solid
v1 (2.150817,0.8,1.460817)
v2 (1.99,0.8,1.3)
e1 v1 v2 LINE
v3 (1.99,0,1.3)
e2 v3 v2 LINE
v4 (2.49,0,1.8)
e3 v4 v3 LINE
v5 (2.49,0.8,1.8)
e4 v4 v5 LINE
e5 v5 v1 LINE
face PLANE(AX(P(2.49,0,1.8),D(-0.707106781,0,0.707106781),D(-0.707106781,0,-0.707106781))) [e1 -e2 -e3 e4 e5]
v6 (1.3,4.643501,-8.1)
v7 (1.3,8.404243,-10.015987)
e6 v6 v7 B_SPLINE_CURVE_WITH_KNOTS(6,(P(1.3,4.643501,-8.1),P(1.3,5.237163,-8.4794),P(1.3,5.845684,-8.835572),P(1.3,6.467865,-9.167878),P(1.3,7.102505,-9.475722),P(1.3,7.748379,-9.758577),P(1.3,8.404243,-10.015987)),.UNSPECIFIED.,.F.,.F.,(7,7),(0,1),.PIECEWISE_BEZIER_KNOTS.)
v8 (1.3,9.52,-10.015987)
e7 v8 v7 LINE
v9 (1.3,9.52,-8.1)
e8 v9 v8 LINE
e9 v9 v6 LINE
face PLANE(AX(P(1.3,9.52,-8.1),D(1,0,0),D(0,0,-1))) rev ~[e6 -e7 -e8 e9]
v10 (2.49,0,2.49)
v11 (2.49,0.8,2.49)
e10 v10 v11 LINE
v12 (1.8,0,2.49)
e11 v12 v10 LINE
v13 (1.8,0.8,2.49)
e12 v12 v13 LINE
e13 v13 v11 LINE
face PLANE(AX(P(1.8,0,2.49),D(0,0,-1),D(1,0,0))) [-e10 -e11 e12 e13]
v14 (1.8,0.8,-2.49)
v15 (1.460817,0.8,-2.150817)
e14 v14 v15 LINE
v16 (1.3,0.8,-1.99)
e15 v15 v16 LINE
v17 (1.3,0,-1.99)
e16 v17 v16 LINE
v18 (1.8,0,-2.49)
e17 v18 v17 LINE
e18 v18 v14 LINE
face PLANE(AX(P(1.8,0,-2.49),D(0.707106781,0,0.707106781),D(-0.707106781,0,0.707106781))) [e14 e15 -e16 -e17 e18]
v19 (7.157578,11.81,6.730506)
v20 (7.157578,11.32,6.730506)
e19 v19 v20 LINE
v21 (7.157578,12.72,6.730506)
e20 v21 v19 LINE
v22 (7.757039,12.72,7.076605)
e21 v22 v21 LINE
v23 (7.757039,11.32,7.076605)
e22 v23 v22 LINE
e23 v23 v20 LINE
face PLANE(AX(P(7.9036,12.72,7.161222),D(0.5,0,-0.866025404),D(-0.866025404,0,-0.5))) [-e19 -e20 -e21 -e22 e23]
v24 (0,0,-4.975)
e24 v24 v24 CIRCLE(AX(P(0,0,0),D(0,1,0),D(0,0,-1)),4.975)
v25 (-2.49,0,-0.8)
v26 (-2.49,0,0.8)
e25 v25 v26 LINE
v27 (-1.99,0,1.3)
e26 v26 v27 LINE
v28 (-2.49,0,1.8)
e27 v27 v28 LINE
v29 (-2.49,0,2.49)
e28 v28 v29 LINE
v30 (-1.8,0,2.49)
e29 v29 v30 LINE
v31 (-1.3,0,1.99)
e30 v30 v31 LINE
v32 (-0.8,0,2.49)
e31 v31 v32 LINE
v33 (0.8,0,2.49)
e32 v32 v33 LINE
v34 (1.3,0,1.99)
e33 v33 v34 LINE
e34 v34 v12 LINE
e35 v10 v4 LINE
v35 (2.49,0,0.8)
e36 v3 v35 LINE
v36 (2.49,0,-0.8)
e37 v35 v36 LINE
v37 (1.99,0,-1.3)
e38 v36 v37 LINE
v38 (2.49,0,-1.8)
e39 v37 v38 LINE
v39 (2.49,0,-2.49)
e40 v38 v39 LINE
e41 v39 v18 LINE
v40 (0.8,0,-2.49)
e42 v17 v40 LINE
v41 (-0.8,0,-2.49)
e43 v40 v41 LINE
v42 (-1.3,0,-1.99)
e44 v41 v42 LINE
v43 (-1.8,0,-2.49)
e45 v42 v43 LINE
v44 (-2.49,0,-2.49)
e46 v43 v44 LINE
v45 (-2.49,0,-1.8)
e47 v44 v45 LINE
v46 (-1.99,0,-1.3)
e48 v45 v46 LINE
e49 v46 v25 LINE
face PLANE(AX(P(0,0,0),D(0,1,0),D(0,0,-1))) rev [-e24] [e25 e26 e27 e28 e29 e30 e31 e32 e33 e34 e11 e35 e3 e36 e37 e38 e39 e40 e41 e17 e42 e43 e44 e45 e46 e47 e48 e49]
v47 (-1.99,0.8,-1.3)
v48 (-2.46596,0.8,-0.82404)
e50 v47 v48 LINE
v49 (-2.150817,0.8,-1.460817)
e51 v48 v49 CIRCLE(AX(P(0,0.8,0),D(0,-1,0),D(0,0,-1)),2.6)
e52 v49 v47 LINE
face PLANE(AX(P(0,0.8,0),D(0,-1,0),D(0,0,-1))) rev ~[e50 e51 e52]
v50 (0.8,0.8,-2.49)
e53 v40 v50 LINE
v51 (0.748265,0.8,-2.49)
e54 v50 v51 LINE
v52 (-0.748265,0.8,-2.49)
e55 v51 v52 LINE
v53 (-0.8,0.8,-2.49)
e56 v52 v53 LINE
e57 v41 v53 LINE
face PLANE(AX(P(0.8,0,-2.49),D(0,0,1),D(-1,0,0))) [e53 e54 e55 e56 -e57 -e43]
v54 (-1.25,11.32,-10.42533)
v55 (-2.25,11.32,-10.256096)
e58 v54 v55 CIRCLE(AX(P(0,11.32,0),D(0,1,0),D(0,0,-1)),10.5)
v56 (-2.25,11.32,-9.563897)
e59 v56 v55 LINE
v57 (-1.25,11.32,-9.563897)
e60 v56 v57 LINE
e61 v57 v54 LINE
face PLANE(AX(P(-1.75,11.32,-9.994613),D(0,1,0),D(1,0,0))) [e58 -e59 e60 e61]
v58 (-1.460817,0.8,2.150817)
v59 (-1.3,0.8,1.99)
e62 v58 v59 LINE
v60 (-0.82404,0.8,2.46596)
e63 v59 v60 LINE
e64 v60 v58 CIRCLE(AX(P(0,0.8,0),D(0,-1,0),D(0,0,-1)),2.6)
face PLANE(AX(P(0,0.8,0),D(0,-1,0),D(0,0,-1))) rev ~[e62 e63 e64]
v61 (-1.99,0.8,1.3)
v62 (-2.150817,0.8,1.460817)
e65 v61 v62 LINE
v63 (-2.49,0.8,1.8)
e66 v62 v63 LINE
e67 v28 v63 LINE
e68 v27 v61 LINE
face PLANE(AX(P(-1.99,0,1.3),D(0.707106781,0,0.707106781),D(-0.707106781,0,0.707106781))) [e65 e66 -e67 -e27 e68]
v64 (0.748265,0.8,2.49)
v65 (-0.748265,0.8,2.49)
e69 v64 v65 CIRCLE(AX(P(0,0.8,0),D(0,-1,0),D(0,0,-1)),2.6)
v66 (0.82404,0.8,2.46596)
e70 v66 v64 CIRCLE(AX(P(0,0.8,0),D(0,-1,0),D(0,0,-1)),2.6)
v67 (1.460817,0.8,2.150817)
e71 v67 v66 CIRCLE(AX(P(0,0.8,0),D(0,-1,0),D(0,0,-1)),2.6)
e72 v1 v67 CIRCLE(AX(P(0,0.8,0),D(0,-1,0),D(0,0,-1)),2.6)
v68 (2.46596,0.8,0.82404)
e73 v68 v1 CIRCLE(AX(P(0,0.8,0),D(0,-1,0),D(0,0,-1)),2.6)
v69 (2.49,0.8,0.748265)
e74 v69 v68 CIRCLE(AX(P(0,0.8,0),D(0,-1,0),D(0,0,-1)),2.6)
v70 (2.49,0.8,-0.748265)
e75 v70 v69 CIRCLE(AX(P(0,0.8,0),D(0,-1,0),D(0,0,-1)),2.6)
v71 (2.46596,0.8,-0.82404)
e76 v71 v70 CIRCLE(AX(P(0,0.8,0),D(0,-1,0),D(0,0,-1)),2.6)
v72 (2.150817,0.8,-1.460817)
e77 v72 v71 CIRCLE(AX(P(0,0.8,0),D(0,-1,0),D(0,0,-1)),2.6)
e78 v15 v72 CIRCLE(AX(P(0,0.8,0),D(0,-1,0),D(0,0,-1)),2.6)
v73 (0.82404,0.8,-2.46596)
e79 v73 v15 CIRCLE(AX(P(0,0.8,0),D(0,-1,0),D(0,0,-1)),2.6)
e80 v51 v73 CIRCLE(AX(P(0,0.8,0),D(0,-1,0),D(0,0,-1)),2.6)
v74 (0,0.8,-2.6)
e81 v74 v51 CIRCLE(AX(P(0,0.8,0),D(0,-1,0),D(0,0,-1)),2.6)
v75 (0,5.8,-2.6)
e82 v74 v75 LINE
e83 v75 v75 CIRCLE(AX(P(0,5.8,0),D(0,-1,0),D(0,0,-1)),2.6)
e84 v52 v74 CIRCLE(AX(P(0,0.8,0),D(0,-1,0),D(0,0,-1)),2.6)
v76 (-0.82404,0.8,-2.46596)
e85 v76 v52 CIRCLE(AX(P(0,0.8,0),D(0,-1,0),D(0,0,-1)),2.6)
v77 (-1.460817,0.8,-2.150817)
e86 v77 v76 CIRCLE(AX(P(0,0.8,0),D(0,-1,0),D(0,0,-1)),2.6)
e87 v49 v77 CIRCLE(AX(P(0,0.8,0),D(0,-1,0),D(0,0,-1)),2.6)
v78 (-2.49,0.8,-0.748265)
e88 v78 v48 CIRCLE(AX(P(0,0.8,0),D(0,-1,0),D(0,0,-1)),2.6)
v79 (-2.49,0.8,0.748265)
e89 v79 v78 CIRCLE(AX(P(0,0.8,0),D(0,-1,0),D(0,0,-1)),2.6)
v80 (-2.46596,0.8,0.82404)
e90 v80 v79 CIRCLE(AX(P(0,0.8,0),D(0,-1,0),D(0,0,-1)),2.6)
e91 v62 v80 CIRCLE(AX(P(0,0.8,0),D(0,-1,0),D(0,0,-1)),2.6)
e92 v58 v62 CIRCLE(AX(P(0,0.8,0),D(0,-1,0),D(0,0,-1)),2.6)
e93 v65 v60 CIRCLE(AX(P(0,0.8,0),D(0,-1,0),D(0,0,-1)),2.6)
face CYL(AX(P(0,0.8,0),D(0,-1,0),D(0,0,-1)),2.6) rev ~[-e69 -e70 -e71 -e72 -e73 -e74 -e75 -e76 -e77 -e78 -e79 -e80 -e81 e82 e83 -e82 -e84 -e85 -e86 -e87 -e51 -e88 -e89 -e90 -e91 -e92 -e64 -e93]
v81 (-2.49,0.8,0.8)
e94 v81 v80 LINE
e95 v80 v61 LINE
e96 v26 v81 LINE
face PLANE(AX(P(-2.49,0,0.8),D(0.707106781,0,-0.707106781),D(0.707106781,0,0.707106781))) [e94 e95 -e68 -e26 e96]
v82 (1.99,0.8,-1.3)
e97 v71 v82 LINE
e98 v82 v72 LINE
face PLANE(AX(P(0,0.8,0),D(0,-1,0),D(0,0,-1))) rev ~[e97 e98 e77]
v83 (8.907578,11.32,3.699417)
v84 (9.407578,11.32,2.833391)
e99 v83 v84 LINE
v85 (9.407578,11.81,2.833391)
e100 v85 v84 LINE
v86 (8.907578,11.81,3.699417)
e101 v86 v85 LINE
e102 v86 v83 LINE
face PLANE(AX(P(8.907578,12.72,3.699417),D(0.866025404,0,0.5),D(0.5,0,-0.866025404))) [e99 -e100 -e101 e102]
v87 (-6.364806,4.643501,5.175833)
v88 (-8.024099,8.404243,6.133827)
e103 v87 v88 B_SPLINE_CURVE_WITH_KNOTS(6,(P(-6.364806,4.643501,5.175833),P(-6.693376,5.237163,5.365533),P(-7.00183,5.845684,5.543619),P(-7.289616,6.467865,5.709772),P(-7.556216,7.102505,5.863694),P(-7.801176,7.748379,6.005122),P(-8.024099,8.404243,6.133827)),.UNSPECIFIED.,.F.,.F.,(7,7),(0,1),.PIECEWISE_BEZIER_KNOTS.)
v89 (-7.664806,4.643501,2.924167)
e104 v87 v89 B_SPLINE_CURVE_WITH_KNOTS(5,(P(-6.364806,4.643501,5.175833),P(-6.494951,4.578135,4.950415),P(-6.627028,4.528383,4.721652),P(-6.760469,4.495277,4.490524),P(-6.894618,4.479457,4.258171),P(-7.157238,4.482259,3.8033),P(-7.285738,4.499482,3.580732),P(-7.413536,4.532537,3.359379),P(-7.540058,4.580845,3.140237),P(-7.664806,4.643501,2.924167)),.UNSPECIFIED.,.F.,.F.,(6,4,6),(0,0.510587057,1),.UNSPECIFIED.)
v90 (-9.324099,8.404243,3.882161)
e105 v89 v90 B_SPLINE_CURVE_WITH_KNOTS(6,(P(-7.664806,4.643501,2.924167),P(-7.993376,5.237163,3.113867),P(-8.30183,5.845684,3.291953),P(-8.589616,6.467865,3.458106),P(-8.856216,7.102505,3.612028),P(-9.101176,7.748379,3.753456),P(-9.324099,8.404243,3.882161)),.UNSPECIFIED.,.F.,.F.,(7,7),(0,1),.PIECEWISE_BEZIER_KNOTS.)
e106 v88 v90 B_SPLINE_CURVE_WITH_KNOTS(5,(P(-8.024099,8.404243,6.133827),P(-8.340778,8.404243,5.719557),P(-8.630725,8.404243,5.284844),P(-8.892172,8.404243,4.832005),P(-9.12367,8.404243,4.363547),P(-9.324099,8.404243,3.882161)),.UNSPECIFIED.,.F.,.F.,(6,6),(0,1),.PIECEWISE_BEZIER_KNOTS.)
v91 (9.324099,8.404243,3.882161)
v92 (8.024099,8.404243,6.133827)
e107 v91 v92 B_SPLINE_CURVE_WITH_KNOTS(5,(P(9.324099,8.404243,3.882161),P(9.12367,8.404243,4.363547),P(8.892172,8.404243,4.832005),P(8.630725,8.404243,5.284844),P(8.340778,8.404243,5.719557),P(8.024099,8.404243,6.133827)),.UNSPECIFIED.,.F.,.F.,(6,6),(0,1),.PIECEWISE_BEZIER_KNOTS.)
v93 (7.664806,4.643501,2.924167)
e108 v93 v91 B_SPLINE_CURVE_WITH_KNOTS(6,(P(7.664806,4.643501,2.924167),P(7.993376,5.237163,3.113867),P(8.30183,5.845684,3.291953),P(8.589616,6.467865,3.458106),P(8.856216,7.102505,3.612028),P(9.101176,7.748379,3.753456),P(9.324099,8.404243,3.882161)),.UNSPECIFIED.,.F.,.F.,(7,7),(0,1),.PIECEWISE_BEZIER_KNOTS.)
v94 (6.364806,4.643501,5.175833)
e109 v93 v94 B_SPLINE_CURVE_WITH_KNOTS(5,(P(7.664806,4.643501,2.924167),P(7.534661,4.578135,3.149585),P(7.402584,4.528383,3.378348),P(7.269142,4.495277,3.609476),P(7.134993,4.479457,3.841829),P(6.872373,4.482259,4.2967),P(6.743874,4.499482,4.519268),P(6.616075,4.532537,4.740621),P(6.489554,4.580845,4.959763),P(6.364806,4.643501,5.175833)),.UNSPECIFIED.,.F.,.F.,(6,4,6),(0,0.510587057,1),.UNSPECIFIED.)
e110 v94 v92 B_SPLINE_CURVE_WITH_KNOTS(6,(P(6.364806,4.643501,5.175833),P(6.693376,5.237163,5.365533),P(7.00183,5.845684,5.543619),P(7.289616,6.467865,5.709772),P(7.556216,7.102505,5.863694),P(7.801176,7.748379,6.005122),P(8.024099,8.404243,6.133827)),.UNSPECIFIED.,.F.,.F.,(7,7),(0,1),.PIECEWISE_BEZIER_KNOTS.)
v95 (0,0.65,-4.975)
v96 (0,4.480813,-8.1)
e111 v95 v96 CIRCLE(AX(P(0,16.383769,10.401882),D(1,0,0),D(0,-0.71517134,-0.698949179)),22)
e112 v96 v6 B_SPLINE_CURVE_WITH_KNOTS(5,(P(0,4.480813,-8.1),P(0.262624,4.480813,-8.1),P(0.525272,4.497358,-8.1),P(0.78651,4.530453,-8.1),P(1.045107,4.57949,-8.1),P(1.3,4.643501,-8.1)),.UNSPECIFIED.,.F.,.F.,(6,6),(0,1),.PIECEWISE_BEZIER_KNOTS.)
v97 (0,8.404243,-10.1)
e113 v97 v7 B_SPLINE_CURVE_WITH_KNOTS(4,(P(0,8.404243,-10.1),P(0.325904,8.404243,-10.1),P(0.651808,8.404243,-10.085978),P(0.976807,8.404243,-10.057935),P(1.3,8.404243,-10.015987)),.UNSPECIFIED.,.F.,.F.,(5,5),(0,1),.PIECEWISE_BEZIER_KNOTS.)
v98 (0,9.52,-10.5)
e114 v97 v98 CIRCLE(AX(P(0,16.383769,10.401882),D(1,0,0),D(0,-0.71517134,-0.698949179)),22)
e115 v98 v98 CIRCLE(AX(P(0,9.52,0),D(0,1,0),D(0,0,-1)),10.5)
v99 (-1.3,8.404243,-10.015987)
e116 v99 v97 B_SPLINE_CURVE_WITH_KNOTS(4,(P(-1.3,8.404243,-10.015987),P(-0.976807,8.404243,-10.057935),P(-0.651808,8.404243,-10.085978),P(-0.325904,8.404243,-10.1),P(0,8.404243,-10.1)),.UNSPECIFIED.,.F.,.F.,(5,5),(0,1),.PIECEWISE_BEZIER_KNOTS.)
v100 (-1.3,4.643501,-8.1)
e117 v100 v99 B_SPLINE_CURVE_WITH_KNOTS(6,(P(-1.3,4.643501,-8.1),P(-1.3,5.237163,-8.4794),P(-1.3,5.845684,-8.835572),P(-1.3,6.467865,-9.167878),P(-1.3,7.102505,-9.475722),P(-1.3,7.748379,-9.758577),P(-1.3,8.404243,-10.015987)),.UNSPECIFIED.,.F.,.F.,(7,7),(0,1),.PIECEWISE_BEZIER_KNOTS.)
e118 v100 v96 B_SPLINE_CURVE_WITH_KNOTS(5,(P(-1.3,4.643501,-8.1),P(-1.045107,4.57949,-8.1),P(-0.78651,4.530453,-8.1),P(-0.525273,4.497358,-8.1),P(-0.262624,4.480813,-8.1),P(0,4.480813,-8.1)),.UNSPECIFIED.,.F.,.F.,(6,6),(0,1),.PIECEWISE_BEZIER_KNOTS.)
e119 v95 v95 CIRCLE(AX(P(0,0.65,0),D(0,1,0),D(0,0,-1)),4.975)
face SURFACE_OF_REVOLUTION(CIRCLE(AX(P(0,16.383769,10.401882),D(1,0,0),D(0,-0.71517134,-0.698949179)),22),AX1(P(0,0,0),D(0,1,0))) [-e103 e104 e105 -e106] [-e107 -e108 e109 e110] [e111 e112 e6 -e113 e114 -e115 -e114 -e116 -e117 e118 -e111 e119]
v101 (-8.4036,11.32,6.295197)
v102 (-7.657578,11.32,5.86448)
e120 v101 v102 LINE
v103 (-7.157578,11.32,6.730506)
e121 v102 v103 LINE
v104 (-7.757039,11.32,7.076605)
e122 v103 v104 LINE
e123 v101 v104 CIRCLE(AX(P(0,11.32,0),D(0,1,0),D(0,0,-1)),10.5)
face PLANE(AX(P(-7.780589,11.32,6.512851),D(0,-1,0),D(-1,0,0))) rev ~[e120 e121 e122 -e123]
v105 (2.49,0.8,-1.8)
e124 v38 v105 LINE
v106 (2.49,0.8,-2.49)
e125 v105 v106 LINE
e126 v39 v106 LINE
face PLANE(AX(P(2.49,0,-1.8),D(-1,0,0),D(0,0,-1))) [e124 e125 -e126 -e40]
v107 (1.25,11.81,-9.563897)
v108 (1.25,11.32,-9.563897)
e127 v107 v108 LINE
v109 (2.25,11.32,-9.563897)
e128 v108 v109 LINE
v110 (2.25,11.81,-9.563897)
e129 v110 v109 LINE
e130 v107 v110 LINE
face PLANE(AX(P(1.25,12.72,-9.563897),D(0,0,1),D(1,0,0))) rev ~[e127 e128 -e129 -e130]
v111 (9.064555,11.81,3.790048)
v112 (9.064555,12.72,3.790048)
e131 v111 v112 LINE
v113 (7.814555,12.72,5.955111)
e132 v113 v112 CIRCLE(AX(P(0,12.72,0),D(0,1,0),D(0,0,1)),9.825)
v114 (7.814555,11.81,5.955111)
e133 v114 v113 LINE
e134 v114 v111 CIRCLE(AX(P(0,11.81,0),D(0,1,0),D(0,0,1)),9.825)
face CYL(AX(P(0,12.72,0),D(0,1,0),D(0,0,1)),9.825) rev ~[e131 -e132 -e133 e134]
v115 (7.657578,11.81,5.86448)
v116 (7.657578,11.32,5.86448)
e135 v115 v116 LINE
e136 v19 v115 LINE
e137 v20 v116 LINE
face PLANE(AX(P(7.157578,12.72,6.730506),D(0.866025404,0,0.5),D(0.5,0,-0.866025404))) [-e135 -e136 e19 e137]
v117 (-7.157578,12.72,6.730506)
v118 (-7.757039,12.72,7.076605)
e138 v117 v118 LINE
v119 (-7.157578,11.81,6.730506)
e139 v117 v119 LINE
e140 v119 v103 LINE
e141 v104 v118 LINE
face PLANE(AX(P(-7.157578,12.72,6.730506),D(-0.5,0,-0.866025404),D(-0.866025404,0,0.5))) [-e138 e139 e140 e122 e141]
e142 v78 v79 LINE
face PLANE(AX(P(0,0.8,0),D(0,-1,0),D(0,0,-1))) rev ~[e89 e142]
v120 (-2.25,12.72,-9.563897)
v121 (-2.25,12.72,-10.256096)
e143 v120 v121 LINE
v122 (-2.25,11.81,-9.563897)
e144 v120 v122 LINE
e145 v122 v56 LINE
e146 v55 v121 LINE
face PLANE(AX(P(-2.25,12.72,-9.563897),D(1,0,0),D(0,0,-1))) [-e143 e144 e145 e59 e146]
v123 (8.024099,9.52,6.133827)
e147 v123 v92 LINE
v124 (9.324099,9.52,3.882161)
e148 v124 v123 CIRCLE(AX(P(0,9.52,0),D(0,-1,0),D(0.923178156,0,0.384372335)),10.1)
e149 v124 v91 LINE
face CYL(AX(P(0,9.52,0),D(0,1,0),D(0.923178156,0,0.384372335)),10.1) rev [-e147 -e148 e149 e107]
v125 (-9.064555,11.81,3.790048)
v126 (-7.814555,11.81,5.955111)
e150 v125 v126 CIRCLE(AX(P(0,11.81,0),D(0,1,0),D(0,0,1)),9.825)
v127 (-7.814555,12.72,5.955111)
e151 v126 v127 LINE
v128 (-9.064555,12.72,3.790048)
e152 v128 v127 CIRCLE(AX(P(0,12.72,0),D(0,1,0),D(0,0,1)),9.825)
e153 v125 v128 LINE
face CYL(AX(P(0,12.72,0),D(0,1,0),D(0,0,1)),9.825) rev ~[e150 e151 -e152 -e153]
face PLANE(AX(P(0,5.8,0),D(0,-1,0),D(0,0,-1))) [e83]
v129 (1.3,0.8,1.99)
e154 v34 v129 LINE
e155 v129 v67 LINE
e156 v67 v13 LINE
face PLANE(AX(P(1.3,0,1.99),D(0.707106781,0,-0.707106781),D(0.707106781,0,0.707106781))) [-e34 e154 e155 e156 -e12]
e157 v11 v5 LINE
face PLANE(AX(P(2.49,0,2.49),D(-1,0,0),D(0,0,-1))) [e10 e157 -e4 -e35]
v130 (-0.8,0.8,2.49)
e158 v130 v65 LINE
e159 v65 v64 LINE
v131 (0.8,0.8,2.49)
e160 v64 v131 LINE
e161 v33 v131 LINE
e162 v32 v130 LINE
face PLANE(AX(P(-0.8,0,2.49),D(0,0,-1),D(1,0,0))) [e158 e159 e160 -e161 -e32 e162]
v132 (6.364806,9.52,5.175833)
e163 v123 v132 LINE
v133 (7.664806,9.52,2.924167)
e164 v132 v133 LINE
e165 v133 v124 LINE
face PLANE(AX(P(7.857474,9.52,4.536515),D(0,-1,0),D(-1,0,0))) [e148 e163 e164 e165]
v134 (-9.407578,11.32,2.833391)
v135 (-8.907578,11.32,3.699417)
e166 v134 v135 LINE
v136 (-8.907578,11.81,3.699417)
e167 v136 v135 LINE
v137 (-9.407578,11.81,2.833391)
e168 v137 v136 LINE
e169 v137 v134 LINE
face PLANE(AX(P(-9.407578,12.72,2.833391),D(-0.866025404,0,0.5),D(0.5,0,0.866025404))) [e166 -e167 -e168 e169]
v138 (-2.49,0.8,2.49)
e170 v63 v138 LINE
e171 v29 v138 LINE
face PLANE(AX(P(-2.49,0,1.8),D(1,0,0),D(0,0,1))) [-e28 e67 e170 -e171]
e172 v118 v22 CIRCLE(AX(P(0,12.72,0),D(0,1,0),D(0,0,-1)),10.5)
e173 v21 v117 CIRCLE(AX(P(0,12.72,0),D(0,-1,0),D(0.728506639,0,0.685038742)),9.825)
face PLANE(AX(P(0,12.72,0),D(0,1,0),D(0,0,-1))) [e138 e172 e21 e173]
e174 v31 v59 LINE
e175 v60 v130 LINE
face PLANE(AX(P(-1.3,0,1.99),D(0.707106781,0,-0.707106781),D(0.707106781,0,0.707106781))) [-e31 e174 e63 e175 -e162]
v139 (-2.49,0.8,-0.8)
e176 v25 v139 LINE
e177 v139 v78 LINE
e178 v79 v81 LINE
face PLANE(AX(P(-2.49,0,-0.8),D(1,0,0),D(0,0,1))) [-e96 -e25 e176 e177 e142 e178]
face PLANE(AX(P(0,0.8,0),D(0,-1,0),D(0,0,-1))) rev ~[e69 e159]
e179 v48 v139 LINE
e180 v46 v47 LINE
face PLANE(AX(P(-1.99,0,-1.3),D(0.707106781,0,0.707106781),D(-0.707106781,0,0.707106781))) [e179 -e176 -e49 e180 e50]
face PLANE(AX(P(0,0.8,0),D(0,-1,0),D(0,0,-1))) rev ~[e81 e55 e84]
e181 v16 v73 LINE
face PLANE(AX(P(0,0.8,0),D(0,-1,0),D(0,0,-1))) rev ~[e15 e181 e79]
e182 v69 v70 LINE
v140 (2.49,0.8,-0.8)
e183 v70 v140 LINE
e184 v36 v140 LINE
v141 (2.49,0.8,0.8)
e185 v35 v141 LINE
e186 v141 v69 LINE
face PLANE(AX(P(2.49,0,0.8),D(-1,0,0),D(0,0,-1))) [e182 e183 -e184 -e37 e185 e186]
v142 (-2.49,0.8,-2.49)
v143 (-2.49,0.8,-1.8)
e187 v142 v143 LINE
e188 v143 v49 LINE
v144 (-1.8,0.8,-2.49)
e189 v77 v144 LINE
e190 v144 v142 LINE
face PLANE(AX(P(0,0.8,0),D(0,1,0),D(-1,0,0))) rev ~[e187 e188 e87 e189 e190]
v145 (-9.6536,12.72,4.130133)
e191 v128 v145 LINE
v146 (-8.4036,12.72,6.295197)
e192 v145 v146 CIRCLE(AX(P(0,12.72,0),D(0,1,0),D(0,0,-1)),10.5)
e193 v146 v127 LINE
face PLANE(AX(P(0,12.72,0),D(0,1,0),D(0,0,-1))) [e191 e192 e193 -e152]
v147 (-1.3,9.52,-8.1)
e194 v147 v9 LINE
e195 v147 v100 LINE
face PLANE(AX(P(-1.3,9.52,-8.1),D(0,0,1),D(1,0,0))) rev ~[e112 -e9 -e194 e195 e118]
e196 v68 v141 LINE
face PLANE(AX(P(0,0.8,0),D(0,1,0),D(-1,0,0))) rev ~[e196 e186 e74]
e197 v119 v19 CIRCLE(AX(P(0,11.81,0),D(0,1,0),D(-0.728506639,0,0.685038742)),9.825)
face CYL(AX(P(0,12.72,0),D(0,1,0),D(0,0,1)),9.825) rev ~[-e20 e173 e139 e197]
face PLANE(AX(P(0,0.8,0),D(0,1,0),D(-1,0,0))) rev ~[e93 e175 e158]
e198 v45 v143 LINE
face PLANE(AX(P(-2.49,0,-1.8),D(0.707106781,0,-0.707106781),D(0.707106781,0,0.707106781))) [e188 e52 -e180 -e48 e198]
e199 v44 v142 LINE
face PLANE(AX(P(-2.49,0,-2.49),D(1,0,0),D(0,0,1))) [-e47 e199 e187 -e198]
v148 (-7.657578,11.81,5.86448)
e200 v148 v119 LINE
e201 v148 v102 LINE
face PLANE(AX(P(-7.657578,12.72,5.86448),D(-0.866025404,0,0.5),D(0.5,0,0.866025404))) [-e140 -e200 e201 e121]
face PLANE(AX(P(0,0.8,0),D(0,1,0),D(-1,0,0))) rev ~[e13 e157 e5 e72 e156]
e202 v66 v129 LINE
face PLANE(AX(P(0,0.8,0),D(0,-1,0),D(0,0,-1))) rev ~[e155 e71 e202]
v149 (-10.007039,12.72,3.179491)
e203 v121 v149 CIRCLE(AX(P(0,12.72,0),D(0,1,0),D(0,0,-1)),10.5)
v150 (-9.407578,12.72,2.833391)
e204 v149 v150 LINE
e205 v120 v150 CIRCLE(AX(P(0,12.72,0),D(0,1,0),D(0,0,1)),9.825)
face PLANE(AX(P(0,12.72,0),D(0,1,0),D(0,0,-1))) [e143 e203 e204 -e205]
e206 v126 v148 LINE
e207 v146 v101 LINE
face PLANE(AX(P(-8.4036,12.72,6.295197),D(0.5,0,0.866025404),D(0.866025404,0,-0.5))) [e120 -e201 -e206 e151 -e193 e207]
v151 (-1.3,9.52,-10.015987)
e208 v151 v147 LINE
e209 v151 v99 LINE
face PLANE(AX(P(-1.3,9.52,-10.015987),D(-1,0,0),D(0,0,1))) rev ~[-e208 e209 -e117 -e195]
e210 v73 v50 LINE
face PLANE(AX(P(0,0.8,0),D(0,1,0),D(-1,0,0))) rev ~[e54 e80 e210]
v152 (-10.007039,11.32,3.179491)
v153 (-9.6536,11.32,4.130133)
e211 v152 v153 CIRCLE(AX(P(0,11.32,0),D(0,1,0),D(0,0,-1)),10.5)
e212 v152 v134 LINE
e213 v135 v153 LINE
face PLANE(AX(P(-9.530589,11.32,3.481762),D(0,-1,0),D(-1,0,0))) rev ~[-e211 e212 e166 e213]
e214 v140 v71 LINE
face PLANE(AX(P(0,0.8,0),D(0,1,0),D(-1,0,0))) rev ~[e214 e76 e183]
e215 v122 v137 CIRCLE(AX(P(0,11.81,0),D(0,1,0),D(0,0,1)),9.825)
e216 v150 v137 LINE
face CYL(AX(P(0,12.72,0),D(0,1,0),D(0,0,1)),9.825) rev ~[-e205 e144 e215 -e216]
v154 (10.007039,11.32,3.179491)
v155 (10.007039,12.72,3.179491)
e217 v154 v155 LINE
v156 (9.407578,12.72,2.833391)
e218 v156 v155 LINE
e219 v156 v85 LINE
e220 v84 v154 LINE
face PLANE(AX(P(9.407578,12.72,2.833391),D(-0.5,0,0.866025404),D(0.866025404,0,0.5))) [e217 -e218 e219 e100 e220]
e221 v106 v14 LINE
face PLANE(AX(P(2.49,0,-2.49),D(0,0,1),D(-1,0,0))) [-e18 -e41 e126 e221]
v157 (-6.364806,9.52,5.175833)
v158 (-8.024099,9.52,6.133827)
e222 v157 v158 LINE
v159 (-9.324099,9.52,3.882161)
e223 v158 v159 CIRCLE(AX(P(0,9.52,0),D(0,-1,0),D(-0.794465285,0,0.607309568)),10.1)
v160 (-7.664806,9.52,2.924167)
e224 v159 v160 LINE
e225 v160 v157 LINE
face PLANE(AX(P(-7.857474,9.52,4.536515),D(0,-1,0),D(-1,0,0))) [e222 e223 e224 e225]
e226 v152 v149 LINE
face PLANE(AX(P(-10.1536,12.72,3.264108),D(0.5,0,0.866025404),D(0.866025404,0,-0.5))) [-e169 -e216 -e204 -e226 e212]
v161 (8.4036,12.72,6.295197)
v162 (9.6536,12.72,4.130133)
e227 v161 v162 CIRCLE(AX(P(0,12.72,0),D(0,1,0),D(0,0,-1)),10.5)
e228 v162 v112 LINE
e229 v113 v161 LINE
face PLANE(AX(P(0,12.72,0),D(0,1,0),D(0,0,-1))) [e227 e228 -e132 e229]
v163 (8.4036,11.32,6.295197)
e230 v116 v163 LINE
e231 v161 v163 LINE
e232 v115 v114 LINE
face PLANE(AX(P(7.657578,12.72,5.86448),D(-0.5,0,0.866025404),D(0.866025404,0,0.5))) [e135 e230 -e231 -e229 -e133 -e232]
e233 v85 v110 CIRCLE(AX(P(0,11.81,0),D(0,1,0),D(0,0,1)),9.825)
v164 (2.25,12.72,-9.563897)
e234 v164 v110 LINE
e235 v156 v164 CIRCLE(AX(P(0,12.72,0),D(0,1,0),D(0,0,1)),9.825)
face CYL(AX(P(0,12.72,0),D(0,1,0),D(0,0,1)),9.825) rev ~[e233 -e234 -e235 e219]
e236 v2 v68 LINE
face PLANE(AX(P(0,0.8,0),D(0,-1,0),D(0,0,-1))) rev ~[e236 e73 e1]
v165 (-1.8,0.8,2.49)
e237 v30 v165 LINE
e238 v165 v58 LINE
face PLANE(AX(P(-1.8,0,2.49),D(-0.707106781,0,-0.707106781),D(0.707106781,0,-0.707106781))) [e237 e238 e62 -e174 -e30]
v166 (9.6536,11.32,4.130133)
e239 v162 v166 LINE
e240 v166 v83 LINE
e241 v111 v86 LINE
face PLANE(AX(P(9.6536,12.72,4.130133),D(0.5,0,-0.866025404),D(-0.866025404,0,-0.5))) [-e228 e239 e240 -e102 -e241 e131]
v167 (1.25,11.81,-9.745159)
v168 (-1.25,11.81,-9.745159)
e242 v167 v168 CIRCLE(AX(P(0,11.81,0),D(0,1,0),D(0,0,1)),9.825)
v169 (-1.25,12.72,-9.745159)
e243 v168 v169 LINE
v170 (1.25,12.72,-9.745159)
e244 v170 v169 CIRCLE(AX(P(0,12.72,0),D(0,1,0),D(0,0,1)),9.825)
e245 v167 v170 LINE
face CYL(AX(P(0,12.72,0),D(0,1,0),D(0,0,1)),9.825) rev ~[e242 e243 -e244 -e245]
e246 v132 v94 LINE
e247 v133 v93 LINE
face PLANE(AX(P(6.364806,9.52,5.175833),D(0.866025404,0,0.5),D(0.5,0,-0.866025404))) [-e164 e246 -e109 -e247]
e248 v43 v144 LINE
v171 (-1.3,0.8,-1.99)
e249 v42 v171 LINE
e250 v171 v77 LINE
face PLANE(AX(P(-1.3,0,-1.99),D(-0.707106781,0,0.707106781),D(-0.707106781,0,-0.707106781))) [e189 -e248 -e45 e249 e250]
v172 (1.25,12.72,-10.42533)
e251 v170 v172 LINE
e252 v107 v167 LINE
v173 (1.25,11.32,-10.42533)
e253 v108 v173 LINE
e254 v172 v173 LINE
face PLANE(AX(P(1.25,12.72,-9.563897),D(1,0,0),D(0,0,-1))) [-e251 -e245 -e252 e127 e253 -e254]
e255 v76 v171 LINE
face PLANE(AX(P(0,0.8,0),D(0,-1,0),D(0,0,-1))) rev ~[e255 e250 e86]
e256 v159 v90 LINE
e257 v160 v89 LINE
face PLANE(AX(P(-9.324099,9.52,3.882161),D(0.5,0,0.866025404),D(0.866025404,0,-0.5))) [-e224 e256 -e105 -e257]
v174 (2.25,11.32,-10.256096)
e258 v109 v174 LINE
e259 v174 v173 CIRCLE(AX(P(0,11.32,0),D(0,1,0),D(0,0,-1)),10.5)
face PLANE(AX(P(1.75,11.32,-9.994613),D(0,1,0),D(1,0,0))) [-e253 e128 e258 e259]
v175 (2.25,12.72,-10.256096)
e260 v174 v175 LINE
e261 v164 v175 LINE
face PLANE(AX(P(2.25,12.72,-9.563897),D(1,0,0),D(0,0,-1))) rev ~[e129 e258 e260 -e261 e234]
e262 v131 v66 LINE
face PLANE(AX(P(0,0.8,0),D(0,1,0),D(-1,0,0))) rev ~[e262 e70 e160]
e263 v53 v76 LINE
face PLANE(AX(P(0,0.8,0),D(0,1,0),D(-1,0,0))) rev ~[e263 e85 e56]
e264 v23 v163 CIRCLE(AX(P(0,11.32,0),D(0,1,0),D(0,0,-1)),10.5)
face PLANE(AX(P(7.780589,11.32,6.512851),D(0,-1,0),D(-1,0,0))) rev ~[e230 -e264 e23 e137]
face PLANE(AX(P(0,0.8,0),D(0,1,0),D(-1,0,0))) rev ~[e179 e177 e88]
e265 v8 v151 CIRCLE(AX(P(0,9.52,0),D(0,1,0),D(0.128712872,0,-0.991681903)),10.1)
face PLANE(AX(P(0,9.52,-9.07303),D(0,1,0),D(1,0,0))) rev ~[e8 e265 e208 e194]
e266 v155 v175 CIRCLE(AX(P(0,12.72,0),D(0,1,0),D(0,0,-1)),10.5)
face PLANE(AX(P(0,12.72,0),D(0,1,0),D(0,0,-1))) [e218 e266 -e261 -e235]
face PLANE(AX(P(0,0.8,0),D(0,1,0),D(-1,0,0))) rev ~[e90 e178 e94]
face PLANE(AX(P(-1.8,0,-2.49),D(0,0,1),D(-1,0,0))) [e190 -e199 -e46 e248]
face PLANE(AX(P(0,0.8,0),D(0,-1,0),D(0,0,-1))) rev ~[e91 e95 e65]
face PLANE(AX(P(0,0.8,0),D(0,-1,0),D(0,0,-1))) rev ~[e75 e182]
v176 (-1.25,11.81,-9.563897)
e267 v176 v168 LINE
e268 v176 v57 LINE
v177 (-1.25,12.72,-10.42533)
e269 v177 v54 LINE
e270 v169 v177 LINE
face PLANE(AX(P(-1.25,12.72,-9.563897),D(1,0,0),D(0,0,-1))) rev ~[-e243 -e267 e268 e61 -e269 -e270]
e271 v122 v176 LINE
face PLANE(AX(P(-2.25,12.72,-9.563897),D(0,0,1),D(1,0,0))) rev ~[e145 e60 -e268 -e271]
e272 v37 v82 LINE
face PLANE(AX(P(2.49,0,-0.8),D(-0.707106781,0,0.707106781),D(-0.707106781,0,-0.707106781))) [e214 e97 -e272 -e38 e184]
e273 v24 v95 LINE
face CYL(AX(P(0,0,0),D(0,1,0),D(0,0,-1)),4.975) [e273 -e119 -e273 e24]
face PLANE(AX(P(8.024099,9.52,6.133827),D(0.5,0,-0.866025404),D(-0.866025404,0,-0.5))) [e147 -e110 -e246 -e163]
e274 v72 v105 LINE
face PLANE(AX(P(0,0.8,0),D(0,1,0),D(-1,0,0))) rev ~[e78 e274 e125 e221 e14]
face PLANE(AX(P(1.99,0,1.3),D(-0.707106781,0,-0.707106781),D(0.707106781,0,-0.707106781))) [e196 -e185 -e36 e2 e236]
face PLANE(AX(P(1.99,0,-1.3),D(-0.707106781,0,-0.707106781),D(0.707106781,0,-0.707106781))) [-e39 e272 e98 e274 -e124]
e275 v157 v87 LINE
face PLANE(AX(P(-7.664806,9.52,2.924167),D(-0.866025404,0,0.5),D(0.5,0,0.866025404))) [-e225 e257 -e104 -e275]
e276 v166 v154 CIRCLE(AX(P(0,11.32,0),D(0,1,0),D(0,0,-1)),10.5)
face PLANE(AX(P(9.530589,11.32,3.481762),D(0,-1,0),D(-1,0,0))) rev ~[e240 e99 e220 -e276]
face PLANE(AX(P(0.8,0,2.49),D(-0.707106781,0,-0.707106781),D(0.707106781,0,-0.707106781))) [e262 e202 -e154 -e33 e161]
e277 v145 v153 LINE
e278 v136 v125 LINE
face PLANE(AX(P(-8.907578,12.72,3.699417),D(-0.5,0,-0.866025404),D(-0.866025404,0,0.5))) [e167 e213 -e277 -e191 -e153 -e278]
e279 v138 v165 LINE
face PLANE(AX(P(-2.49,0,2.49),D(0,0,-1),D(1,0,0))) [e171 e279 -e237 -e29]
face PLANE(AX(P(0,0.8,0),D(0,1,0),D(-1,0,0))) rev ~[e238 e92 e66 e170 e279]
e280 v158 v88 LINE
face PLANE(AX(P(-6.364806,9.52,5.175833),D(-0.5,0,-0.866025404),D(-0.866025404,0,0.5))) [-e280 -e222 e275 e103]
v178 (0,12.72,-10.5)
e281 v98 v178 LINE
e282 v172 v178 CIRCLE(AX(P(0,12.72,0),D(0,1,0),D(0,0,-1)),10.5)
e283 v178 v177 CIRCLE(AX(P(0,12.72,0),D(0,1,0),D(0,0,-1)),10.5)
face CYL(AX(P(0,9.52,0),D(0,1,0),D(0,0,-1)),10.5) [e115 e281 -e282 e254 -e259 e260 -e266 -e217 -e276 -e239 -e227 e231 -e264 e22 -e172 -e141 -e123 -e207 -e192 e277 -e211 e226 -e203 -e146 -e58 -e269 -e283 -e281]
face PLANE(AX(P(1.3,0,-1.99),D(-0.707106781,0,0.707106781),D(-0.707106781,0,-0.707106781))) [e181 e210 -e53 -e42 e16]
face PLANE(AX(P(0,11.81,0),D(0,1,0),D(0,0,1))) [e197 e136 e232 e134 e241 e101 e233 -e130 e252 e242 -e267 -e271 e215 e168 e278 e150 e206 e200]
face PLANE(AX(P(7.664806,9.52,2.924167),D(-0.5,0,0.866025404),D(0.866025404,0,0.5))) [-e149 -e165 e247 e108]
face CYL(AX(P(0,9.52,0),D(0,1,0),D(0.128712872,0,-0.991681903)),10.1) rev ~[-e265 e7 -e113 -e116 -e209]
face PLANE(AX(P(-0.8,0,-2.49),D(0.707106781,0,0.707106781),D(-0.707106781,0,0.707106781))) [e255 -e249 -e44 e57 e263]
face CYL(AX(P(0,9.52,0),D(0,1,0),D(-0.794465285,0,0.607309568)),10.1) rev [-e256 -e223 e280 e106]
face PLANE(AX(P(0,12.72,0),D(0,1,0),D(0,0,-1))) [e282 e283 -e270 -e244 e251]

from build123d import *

# Parameters (mm, degrees)
SKETCH3_R                    = 9.825
LENS_TOP_CUT_EXTRUDE2_DEPTH  = 0.91
SKETCH2_W                    = 1
SKETCH2_H                    = 0.861432774
TOP_CUT_EXTRUDE3_DEPTH       = 1.4
BOTTOM_CUT_EXTRUDE4_DEPTH    = 0.8
SIDE_CUT_EXTRUDE5_DEPTH      = 8
SKETCH6_R                    = 2.6
LENS_HOLE_CUT_EXTRUDE7_DEPTH = 5


with BuildPart() as part:
    # Sketch1 → Lens Holder (revolve)
    with BuildSketch(Plane.XY, mode=Mode.PRIVATE) as lens_holder_sk:
        with BuildLine():
            Line((0, 0), (4.975, 0))
            Line((4.975, 0), (4.975, 0.65))
            ThreePointArc((4.975, 0.65), (8.271800133, 4.752191856), (10.5, 9.52))
            Line((10.5, 9.52), (10.5, 12.72))
            Line((10.5, 12.72), (0, 12.72))
            Line((0, 12.72), (0, 0))
        make_face()
    revolve(lens_holder_sk.sketch.rotate(Axis((0, 0, 0), (0, 1, 0)), 90), axis=Axis((0, 0, 0), (0, 1, 0)))

    # Sketch3 → Lens Top Cut-Extrude2 (cut)
    with BuildSketch(Plane(origin=(0, 12.72, 0), x_dir=(1, 0, 0), z_dir=(0, 1, 0))):
        with Locations(Location((0, 0, 0), (0, 0, 270))):
            Circle(SKETCH3_R)
    extrude(amount=-LENS_TOP_CUT_EXTRUDE2_DEPTH, mode=Mode.SUBTRACT)

    # Sketch2 → Top Cut-Extrude3 (cut)
    with BuildSketch(Plane(origin=(0, 12.72, 0), x_dir=(1, 0, 0), z_dir=(0, 1, 0))):
        Polygon((8.40360039, -6.29519662), (7.90360039, -7.161222024), (7.157577724, -6.730505637), (7.657577724, -5.864480233), align=None)
        with Locations((1.75, 9.994613344)):
            Rectangle(SKETCH2_W, SKETCH2_H)
        with Locations((-1.75, 9.994613344)):
            Rectangle(SKETCH2_W, SKETCH2_H)
        Polygon((10.15360039, -3.264107707), (9.65360039, -4.130133111), (8.907577724, -3.699416724), (9.407577724, -2.83339132), align=None)
        Polygon((-9.65360039, -4.130133111), (-10.15360039, -3.264107707), (-9.407577724, -2.83339132), (-8.907577724, -3.699416724), align=None)
        Polygon((-7.90360039, -7.161222024), (-8.40360039, -6.29519662), (-7.657577724, -5.864480233), (-7.157577724, -6.730505637), align=None)
    extrude(amount=-TOP_CUT_EXTRUDE3_DEPTH, mode=Mode.SUBTRACT)

    # Sketch4 → Bottom Cut-Extrude4 (cut)
    with BuildSketch(Plane.XZ):
        Polygon((2.49, 1.8), (1.99, 1.3), (2.49, 0.8), (2.49, -0.8), (1.99, -1.3), (2.49, -1.8), (2.49, -2.49), (1.8, -2.49), (1.3, -1.99), (0.8, -2.49), (-0.8, -2.49), (-1.3, -1.99), (-1.8, -2.49), (-2.49, -2.49), (-2.49, -1.8), (-1.99, -1.3), (-2.49, -0.8), (-2.49, 0.8), (-1.99, 1.3), (-2.49, 1.8), (-2.49, 2.49), (-1.8, 2.49), (-1.3, 1.99), (-0.8, 2.49), (0.8, 2.49), (1.3, 1.99), (1.8, 2.49), (2.49, 2.49), align=None)
    extrude(amount=-BOTTOM_CUT_EXTRUDE4_DEPTH, mode=Mode.SUBTRACT)

    # Sketch5 → Side Cut-Extrude5 (cut)
    with BuildSketch(Plane(origin=(0, 9.52, 0), x_dir=(1, 0, 0), z_dir=(0, 1, 0))):
        with BuildLine():
            Line((-1.3, 10.01598722), (-1.3, 8.1))
            Line((-1.3, 8.1), (1.3, 8.1))
            Line((1.3, 8.1), (1.3, 10.01598722))
            ThreePointArc((1.3, 10.01598722), (0, 10.1), (-1.3, 10.01598722))
        make_face()
        with BuildLine():
            Line((8.024099377, -6.133826635), (6.364805771, -5.175833025))
            Line((6.364805771, -5.175833025), (7.664805771, -2.924166975))
            Line((7.664805771, -2.924166975), (9.324099377, -3.882160585))
            ThreePointArc((9.324099377, -3.882160585), (8.746856578, -5.05), (8.024099377, -6.133826635))
        make_face()
        with BuildLine():
            Line((-9.324099377, -3.882160585), (-7.664805771, -2.924166975))
            Line((-7.664805771, -2.924166975), (-6.364805771, -5.175833025))
            Line((-6.364805771, -5.175833025), (-8.024099377, -6.133826635))
            ThreePointArc((-8.024099377, -6.133826635), (-8.746856578, -5.05), (-9.324099377, -3.882160585))
        make_face()
    extrude(amount=-SIDE_CUT_EXTRUDE5_DEPTH, mode=Mode.SUBTRACT)

    # Sketch6 → Lens Hole Cut-Extrude7 (cut)
    with BuildSketch(Plane.XZ.offset(-0.8)):
        with Locations(Location((0, 0, 0), (0, 0, 270))):
            Circle(SKETCH6_R)
    extrude(amount=-LENS_HOLE_CUT_EXTRUDE7_DEPTH, mode=Mode.SUBTRACT)


solid = part.part
